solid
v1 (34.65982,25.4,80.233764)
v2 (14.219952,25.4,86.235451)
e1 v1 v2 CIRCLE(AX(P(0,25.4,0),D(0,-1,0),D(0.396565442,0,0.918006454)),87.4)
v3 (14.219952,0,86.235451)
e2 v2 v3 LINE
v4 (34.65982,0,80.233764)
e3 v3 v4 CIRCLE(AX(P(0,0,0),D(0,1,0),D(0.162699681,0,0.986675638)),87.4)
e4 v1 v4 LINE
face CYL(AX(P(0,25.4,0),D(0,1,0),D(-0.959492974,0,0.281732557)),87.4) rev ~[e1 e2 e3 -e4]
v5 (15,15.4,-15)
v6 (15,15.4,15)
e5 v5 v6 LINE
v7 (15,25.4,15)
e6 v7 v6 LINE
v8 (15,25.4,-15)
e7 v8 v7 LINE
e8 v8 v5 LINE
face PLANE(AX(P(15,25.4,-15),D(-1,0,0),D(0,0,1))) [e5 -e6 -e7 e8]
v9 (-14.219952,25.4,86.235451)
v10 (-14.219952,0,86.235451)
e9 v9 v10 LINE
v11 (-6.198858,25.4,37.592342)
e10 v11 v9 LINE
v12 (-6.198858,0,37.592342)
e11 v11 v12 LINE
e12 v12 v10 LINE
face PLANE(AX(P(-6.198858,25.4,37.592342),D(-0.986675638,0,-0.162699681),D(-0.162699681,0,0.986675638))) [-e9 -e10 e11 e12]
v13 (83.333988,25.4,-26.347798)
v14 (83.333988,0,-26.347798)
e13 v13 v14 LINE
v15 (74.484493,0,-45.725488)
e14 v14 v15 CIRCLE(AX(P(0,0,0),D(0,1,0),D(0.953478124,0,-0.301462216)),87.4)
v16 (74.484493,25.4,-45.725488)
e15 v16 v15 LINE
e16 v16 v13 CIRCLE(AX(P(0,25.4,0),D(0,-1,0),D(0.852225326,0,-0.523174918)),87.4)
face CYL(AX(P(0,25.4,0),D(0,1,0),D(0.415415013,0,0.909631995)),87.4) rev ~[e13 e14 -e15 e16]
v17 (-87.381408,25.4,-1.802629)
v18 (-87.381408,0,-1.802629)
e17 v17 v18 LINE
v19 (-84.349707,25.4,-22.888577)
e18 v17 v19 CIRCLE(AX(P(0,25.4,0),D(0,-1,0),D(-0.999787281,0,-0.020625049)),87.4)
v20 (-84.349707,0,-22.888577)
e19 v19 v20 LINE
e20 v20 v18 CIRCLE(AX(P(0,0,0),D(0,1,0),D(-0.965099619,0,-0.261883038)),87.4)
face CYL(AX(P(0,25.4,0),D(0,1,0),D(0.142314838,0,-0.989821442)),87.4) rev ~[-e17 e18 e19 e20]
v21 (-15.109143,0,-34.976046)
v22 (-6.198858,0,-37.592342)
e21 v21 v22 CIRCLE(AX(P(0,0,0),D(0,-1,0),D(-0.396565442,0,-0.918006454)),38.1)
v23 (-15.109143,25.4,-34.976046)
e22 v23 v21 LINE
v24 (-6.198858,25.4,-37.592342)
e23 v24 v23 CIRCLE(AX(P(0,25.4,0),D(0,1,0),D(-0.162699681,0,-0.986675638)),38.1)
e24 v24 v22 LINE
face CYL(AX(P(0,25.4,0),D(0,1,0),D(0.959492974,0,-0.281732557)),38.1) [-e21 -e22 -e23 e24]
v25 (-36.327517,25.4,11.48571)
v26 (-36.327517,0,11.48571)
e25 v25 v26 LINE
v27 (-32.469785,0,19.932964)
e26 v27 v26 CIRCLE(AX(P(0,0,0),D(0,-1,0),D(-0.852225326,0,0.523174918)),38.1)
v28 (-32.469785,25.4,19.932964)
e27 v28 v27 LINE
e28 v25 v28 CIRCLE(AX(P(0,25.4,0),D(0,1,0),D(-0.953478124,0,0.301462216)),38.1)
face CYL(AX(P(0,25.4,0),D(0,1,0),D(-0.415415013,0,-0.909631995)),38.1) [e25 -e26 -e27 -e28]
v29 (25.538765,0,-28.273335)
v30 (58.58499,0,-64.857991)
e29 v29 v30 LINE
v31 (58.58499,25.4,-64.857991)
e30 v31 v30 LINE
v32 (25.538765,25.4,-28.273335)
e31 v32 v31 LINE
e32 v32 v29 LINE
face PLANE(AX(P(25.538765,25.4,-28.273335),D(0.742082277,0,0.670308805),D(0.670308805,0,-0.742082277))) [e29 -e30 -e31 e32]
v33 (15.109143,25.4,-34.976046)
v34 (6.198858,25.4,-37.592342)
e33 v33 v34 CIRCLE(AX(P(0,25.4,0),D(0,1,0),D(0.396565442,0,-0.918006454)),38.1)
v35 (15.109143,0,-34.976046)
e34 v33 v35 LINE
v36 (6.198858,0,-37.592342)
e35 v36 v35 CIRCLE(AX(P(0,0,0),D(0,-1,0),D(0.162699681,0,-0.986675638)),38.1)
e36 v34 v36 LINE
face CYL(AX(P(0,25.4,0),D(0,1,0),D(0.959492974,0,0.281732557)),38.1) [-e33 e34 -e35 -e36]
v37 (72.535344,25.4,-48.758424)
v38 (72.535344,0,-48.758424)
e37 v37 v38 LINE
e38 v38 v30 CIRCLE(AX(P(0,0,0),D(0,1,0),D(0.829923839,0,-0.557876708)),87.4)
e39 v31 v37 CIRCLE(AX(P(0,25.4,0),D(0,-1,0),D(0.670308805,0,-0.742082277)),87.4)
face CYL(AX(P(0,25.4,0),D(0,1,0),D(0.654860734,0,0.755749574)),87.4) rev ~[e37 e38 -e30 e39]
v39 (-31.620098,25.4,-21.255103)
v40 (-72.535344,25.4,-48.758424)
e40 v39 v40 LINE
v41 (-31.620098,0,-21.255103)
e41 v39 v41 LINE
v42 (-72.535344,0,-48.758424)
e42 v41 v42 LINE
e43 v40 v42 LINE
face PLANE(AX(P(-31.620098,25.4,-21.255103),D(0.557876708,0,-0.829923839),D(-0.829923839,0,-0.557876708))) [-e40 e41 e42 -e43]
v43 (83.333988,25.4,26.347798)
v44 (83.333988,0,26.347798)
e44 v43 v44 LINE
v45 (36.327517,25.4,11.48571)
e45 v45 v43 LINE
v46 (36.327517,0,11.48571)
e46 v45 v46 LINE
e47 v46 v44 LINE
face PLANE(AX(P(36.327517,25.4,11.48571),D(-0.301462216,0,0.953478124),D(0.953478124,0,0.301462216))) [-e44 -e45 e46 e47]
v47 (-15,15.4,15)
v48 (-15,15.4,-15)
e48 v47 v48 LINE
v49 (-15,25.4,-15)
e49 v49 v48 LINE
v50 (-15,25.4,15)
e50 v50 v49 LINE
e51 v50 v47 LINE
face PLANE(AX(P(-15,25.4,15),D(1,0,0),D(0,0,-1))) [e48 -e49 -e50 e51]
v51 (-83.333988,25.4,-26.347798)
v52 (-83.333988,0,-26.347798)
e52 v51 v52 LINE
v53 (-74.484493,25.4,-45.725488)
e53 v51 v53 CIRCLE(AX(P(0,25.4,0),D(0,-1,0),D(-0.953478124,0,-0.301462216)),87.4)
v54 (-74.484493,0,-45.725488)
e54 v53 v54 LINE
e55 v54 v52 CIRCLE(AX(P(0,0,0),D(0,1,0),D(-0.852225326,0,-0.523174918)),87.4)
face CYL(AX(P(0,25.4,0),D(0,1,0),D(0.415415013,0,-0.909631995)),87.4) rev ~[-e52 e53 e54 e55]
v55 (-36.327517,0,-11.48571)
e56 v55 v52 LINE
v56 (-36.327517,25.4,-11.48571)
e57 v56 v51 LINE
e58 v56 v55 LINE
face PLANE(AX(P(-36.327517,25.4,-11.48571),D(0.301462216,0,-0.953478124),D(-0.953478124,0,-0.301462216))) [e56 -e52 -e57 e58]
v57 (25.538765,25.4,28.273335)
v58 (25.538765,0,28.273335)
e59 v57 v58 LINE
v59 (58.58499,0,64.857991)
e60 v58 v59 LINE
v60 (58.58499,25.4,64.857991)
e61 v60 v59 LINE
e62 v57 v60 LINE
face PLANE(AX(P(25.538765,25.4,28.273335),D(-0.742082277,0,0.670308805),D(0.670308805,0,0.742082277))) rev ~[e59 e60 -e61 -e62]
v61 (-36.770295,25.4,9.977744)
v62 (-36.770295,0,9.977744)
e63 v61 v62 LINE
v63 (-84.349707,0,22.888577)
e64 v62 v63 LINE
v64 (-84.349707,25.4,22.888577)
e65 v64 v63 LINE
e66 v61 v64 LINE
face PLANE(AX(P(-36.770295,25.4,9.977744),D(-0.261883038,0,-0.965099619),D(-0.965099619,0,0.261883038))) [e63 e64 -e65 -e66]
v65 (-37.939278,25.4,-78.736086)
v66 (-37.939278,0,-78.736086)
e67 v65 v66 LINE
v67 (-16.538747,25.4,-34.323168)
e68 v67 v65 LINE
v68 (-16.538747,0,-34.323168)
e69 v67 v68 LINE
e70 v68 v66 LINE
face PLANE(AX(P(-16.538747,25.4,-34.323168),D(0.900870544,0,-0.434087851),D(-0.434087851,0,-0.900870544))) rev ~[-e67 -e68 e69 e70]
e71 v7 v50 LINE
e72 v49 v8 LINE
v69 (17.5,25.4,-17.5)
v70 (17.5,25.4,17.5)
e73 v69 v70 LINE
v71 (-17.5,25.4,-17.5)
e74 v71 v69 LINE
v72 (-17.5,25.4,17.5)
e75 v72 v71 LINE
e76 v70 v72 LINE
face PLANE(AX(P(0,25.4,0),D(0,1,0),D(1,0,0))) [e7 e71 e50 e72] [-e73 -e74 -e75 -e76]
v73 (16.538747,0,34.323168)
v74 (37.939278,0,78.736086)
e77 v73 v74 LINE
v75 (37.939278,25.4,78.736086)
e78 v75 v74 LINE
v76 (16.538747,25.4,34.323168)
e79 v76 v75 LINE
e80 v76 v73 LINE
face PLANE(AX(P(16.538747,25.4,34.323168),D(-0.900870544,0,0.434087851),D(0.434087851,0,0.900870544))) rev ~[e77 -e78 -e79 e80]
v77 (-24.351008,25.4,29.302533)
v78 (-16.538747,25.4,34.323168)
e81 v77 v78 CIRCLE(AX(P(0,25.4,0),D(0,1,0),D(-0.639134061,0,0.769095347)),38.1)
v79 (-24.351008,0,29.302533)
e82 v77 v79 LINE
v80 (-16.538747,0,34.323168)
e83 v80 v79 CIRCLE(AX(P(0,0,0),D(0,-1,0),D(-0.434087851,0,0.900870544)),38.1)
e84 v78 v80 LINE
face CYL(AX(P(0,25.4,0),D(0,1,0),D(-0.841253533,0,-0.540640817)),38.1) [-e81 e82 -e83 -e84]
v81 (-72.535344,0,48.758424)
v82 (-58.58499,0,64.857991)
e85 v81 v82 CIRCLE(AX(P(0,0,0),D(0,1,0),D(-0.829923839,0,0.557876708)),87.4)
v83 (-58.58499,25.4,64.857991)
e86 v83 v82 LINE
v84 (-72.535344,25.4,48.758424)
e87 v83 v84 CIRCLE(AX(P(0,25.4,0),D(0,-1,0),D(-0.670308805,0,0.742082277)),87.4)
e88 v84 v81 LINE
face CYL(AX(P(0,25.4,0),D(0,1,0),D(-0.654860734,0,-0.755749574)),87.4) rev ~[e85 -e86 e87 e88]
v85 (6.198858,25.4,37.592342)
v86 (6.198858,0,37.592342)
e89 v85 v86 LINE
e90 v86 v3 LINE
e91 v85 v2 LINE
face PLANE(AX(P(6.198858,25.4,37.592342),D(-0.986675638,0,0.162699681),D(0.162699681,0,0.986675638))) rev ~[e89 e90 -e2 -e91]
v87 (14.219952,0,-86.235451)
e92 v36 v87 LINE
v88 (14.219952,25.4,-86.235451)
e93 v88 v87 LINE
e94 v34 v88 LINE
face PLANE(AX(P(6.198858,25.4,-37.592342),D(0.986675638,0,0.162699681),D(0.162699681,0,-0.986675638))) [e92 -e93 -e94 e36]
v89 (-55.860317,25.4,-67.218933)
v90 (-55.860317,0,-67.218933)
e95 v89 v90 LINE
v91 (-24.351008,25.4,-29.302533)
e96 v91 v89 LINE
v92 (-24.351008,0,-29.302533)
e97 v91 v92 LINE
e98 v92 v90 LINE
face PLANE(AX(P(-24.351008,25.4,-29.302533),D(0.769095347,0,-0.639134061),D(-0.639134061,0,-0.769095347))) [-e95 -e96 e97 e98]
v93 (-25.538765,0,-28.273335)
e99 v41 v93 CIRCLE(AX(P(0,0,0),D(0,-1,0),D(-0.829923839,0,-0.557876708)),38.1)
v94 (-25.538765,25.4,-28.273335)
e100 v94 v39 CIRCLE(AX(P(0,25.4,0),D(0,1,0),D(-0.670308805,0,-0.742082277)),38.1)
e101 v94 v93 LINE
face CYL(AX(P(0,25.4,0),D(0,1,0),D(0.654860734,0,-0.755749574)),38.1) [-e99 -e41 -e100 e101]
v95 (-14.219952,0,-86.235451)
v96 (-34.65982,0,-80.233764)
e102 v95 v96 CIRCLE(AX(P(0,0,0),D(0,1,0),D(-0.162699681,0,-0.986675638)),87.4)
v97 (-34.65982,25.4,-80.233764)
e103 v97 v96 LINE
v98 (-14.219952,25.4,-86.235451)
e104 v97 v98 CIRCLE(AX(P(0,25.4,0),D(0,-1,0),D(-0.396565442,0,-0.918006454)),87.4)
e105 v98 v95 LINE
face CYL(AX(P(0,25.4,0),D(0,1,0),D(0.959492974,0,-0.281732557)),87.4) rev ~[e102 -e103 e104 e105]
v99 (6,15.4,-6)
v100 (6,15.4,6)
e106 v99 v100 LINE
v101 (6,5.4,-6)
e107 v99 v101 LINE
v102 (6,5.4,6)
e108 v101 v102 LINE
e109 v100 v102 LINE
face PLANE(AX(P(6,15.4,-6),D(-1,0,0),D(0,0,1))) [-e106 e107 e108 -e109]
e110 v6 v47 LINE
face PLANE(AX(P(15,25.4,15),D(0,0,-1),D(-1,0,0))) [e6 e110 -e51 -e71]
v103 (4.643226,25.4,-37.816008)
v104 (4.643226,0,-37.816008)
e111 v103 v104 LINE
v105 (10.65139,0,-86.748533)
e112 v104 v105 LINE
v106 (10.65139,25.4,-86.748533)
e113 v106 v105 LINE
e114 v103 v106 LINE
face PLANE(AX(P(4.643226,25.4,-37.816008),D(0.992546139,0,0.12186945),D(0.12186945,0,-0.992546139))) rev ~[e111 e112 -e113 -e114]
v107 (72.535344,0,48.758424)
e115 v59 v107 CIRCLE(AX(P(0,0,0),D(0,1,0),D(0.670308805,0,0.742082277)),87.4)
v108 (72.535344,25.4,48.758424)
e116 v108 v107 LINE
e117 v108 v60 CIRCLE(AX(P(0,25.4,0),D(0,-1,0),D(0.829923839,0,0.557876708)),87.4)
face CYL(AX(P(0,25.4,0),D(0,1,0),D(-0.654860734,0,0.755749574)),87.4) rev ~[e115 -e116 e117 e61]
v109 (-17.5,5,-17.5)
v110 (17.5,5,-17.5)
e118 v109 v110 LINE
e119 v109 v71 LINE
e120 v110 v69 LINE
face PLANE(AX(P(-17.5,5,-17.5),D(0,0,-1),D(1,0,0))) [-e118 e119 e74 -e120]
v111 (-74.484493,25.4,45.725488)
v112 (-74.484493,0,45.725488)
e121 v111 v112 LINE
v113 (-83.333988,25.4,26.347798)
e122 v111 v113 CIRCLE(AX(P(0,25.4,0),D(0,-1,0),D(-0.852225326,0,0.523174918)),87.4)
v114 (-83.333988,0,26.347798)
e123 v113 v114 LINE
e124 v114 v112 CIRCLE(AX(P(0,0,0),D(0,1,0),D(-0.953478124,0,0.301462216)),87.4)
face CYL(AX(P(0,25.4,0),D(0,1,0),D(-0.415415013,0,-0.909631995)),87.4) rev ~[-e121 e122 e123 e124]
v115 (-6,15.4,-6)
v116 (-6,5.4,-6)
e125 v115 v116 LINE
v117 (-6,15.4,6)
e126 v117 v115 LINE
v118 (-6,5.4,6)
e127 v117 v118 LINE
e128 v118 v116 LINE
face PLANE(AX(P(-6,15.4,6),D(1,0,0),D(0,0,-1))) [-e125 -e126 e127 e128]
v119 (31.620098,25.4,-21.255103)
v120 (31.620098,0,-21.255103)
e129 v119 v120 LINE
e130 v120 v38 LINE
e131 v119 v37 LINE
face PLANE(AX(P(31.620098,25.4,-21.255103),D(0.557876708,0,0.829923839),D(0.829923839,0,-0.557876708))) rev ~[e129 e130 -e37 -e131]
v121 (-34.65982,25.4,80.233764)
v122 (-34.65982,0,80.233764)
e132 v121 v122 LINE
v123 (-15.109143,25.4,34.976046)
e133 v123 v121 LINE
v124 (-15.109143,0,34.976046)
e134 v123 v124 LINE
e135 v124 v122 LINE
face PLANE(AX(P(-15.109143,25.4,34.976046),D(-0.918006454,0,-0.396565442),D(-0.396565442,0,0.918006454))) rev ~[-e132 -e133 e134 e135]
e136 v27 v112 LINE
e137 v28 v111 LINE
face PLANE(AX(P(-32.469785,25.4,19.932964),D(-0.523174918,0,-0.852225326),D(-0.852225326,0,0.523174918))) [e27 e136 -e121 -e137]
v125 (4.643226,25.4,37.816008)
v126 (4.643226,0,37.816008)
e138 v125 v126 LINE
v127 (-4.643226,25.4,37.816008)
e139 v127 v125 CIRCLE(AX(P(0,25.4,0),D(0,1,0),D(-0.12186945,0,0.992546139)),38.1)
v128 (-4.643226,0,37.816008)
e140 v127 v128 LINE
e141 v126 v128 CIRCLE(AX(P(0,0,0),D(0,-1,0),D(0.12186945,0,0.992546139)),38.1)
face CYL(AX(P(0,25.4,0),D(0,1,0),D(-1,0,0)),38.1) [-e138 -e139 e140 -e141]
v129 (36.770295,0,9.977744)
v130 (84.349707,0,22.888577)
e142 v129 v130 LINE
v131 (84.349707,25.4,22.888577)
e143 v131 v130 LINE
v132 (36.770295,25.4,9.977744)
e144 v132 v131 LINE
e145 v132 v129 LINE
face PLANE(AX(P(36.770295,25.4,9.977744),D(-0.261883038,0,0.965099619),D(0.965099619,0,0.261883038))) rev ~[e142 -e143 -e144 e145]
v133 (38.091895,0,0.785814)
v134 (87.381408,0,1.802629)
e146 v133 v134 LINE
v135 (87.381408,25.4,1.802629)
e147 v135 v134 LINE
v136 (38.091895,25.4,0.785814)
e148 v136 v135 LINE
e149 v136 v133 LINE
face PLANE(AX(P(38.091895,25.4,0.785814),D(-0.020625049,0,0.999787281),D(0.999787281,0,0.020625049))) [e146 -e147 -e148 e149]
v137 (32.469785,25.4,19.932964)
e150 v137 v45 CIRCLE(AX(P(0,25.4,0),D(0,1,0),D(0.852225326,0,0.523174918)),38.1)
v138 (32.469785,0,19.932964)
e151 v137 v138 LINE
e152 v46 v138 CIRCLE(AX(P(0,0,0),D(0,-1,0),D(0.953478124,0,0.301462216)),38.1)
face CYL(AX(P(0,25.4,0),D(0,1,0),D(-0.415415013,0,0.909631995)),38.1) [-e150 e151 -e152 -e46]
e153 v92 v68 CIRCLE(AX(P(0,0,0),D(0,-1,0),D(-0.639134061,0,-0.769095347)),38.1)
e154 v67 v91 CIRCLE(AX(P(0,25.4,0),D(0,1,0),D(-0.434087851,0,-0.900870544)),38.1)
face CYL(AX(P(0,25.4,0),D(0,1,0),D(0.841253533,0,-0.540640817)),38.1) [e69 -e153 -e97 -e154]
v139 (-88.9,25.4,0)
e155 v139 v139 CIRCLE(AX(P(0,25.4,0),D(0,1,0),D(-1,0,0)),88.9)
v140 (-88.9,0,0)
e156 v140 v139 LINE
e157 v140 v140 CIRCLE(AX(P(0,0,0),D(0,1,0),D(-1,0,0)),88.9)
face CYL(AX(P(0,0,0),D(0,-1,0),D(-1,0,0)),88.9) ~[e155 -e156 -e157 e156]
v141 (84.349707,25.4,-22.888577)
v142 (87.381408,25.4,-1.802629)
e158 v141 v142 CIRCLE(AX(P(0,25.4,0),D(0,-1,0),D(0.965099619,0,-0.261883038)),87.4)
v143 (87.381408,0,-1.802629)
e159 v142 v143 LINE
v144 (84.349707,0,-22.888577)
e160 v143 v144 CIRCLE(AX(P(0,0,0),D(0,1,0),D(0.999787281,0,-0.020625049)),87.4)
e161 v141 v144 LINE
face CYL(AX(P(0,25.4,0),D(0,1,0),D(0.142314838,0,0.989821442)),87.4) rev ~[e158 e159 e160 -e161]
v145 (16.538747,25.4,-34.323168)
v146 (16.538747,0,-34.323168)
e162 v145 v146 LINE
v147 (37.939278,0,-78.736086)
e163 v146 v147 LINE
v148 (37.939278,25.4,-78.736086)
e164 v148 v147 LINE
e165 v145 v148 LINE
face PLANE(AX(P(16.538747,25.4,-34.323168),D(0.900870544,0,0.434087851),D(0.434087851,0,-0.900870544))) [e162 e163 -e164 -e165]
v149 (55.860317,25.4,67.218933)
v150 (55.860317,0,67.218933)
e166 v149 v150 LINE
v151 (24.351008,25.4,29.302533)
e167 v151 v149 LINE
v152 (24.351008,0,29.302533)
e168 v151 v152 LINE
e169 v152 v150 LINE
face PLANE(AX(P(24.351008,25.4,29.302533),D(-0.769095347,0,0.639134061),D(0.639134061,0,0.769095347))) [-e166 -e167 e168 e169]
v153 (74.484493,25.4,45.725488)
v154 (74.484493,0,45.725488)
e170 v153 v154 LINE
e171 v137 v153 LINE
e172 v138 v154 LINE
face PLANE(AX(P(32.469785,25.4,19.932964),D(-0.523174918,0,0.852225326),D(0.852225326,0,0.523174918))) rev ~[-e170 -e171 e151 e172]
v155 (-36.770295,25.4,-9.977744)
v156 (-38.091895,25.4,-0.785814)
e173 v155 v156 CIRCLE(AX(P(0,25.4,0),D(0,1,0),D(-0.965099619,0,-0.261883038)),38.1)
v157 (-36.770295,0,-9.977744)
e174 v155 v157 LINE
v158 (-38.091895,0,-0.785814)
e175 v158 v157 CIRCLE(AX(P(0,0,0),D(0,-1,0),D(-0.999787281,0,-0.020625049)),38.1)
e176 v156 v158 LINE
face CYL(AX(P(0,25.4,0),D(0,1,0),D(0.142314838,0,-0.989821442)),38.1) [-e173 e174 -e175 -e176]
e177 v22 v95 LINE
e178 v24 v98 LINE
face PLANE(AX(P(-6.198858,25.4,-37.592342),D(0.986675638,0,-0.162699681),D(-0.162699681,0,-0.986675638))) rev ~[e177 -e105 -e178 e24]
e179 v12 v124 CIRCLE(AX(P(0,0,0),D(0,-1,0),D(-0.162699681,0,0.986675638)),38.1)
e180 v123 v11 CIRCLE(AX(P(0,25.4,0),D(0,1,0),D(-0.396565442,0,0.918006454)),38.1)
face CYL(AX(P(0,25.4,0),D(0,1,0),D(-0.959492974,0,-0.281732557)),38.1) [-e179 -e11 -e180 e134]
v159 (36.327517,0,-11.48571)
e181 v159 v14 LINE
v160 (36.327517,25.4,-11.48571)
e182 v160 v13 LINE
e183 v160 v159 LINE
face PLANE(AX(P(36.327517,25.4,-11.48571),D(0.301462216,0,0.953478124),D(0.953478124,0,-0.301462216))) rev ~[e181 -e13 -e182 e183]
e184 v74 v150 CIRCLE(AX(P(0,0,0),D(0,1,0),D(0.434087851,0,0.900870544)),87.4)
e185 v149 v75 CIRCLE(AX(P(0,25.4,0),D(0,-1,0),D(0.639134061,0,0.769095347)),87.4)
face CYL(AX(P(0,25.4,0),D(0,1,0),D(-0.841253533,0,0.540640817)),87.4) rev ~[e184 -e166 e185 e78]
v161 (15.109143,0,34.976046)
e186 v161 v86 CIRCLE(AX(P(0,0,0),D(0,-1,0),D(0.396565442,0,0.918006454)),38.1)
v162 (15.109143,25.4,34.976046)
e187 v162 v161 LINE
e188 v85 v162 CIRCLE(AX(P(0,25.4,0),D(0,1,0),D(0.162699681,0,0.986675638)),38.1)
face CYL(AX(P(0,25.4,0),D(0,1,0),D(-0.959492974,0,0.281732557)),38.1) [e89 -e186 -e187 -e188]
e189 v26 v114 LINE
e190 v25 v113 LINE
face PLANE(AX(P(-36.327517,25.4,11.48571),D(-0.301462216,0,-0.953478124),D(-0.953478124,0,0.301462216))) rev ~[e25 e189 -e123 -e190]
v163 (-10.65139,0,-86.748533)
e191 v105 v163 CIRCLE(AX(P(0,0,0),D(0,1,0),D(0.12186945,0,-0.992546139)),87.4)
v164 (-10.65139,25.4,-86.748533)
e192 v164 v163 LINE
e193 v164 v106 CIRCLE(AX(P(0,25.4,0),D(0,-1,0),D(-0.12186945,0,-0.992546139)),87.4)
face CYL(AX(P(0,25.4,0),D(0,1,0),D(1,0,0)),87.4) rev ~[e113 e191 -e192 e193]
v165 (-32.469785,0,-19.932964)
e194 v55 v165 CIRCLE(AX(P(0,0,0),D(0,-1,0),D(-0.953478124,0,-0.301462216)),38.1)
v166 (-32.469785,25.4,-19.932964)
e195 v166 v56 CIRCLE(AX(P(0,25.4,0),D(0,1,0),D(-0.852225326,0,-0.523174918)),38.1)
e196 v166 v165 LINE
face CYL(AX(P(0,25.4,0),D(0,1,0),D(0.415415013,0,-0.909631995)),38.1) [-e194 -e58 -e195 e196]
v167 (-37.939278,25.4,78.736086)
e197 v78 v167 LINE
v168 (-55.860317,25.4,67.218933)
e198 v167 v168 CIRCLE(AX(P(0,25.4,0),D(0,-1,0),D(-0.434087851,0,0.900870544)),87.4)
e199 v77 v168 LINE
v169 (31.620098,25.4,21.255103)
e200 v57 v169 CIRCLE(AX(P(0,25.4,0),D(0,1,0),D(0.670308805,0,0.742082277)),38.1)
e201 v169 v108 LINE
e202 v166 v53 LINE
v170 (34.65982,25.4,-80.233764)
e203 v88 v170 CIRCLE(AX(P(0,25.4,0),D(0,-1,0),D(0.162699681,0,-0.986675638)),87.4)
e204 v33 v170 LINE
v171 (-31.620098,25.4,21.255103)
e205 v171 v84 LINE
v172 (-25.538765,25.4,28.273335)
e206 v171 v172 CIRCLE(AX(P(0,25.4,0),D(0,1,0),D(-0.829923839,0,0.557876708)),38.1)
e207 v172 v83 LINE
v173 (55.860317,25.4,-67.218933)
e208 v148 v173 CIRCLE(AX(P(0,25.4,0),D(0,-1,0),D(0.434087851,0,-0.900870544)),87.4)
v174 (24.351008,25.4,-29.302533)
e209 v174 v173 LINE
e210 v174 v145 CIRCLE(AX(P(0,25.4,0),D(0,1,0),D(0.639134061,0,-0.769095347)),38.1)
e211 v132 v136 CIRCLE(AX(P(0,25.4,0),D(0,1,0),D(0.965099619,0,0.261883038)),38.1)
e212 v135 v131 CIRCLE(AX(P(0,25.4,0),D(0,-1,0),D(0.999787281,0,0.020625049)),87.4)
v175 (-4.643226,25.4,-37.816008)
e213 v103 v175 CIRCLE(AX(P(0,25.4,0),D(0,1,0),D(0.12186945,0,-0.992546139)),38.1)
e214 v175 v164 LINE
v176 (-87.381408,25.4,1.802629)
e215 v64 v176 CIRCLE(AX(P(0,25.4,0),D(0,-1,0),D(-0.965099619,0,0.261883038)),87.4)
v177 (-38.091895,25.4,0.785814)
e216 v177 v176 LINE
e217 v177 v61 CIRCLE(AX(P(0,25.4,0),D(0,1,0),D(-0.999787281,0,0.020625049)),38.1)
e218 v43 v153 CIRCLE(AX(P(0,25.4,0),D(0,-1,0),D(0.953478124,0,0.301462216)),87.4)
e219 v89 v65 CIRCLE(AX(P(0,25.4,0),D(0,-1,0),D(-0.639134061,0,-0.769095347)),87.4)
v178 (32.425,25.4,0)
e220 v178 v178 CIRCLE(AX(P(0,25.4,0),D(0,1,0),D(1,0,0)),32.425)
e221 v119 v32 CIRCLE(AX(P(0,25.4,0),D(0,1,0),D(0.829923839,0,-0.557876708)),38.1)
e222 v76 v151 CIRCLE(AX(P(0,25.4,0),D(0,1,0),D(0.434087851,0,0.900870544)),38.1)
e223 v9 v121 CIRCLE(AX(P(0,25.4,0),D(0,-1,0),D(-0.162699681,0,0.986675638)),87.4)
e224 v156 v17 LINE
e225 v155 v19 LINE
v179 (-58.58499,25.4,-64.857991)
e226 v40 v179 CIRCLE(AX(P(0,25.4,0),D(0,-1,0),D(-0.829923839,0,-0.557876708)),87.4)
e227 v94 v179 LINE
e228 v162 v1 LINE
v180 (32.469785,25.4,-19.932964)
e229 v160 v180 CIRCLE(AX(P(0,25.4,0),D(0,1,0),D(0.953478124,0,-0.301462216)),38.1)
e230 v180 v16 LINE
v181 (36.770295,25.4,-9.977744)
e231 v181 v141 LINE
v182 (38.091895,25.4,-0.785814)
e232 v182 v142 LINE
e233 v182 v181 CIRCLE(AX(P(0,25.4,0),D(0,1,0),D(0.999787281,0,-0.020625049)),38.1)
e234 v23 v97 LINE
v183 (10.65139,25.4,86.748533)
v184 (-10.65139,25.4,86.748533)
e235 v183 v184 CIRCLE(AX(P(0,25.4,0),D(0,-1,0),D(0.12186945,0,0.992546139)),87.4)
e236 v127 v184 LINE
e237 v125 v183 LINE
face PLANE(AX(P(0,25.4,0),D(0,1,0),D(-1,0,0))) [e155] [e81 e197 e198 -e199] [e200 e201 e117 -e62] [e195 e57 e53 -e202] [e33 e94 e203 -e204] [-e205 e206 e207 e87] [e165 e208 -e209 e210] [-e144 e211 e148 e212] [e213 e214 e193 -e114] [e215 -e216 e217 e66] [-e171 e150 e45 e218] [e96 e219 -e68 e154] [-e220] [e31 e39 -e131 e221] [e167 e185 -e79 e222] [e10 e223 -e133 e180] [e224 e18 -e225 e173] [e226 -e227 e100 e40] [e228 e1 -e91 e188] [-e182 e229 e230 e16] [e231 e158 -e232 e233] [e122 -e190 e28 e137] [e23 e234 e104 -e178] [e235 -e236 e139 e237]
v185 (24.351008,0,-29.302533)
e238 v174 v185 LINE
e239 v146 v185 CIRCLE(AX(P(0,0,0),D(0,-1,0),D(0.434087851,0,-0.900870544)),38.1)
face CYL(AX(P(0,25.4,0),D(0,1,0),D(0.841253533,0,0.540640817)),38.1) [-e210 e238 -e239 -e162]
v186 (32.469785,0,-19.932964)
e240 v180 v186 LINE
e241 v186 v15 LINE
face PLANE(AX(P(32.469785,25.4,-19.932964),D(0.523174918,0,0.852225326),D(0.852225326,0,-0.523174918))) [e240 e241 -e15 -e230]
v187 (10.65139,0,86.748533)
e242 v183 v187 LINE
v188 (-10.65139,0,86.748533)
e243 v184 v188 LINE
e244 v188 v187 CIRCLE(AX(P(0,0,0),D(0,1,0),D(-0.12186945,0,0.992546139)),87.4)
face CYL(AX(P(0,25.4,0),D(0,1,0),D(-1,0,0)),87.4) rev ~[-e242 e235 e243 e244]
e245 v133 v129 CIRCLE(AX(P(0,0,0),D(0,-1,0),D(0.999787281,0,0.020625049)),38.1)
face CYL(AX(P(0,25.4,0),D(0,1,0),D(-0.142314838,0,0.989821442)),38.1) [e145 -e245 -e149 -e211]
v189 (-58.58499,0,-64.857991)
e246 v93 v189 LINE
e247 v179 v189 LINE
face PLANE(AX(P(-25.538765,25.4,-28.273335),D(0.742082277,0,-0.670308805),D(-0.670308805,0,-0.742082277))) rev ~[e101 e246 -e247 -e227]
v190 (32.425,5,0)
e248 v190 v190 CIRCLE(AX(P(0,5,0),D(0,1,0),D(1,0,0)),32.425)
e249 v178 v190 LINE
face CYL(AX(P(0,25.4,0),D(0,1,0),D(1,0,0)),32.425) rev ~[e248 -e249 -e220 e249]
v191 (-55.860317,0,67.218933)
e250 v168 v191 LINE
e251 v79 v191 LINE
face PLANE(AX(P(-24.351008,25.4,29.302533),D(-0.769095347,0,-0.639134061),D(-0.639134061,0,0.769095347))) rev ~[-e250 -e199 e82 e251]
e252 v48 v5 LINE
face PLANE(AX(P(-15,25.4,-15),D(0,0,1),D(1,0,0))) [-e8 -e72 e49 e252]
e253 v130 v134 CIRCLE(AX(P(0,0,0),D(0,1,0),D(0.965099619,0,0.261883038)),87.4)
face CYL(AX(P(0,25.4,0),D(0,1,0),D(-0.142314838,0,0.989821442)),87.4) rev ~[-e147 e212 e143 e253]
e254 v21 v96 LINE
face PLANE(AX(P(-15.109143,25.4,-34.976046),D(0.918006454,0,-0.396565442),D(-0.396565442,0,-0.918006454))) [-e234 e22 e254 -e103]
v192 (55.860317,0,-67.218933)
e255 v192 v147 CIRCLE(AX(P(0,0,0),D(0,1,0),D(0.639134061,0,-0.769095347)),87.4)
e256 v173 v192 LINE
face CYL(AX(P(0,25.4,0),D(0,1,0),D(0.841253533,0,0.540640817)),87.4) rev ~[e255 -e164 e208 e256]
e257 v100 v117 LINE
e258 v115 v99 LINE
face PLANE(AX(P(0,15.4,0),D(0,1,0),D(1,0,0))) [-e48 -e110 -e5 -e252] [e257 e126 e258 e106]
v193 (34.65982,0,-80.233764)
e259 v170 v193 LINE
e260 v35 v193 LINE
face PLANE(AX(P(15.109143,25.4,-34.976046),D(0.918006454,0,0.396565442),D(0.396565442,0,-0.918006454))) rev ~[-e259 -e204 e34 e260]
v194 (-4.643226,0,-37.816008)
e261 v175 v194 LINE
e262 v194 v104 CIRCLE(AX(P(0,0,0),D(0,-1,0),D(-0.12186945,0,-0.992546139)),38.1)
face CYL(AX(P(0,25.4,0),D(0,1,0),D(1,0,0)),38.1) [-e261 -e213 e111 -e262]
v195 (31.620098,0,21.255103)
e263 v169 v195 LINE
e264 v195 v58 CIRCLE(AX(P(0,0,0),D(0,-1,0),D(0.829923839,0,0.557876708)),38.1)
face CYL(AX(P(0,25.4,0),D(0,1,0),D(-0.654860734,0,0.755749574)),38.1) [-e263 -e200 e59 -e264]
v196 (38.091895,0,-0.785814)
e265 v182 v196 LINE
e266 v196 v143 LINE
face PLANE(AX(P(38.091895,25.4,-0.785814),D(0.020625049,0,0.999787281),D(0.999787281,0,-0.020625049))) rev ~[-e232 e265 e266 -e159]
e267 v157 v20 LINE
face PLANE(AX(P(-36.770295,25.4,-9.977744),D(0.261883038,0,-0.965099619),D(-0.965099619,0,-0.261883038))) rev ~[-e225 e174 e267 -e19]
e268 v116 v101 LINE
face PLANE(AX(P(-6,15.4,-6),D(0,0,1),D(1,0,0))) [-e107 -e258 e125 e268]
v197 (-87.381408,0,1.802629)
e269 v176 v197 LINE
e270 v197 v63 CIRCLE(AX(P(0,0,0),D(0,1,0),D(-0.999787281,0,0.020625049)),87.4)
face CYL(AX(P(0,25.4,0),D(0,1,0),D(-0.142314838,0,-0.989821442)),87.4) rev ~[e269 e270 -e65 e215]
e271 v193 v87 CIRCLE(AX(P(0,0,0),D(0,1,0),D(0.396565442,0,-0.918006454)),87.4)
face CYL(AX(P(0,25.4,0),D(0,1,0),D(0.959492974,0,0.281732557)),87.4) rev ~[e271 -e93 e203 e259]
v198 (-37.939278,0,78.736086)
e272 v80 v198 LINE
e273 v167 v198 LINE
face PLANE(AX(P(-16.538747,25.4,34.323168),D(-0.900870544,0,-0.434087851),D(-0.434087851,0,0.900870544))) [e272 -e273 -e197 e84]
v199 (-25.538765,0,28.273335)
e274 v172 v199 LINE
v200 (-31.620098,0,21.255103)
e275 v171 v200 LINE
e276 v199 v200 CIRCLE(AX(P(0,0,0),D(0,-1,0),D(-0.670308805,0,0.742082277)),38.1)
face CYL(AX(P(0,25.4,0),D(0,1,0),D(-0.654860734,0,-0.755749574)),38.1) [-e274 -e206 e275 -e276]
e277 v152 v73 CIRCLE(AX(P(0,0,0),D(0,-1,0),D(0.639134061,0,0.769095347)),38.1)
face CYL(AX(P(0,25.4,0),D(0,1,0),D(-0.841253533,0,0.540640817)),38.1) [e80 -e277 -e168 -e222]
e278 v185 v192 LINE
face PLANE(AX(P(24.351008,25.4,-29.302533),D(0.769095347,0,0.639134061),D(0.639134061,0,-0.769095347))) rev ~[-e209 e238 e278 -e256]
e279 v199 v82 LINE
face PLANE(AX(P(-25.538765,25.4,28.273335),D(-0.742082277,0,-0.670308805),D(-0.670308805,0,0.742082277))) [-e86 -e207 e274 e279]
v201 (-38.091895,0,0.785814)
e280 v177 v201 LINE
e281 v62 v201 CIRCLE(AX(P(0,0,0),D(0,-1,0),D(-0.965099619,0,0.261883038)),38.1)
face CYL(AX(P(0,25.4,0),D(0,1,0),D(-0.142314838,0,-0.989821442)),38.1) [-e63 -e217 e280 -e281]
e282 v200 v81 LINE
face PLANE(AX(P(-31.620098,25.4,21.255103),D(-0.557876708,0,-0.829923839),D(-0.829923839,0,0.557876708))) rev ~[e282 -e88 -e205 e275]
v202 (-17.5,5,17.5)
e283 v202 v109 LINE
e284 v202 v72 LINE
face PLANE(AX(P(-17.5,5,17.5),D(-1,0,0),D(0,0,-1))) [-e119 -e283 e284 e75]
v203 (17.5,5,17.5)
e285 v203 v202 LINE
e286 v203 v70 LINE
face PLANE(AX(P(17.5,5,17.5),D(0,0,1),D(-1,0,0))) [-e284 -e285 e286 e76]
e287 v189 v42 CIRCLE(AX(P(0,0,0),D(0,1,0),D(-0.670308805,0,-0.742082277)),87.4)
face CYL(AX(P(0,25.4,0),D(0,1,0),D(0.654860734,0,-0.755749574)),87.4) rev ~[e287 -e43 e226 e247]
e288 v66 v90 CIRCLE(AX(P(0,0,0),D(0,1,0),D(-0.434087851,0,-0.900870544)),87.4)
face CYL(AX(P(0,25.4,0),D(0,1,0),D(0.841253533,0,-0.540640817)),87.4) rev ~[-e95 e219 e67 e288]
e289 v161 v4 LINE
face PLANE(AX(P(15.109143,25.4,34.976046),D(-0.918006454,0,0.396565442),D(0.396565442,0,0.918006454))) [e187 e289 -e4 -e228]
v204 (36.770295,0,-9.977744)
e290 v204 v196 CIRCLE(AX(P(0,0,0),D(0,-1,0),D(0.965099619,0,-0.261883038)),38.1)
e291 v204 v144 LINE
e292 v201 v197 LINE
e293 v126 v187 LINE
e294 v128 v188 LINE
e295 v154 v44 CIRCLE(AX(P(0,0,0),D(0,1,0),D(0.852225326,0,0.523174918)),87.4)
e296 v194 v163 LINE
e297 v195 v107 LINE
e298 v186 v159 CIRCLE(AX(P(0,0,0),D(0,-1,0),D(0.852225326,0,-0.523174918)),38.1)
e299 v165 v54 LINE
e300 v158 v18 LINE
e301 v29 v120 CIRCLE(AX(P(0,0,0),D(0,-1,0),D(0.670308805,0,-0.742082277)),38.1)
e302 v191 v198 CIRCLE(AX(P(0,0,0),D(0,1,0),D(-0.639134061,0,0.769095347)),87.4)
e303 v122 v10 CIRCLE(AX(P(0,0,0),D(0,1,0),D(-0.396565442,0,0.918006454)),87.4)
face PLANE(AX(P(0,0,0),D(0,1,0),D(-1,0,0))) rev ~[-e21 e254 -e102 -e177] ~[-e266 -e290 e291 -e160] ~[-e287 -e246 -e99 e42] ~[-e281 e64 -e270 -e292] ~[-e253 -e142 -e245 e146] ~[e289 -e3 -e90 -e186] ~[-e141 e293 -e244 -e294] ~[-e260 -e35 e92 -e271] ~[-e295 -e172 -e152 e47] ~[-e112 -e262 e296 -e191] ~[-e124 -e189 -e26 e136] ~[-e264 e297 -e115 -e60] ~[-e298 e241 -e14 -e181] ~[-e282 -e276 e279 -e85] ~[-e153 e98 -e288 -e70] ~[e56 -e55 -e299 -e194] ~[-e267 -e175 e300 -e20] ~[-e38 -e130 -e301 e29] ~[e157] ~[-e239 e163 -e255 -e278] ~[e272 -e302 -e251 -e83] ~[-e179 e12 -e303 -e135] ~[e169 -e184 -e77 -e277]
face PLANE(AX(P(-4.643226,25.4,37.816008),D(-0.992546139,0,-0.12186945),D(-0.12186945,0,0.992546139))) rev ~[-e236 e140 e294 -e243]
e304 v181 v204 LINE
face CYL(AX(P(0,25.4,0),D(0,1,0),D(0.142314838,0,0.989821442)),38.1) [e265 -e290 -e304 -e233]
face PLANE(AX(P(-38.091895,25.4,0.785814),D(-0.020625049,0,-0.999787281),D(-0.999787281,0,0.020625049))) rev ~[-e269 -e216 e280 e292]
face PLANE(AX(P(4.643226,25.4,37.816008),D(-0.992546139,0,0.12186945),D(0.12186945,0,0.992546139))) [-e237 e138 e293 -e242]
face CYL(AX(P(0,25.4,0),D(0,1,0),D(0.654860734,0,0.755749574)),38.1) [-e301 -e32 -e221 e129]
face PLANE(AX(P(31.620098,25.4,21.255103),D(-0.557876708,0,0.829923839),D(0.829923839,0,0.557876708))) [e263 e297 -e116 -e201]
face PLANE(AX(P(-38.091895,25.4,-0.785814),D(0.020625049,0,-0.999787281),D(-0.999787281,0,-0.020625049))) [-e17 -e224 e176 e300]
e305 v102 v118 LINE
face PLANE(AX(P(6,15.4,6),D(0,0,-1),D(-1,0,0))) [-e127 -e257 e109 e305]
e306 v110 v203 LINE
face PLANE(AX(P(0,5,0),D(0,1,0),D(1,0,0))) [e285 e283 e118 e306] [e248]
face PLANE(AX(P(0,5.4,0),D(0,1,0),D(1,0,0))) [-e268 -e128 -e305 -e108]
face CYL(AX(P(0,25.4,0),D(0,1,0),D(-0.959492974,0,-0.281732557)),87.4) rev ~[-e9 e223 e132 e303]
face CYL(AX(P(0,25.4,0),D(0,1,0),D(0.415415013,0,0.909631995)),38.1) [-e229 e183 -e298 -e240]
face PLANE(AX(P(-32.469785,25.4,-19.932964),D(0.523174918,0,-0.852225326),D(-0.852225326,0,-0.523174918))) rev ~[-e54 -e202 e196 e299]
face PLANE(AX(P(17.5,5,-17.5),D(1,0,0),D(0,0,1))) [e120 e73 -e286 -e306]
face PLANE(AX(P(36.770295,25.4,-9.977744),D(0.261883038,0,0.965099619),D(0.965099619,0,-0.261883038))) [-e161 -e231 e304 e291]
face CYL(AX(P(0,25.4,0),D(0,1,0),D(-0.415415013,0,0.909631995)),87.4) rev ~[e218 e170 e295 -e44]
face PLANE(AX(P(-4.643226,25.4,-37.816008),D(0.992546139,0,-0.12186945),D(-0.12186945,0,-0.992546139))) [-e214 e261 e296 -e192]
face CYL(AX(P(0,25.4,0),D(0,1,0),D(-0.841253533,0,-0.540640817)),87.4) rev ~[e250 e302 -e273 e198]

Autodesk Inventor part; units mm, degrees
sketch "Sketch1" plane through (0, 0, 0) normal (0, 1, 0) x (-1, 0, 0)
  circle A0 centre (0, 0) radius 88.9
  dimension "d0" = 177.8
extrude "Extrusion1" add sketch "Sketch1" along normal blind 25.4
sketch "Sketch2" plane through (0, 25.4, 0) normal (0, 1, 0) x (1, 0, 0)
  circle A0 centre (0, 0) radius 87.4
  line L0 (0, 0) -> (-10.8342, 88.2374)
  circle A1 centre (0, 0) radius 88.9 projected
  line L1 (0, 0) -> (10.8342, 88.2374)
  circle A2 centre (0, 0) radius 34.925
  line L2 (0, 0) -> (0, 88.9)
  circle A3 centre (0, 0) radius 38.1
  point P0 (-4.2563, 34.6647)
  point P1 (4.2563, 34.6647)
  point P2 (10.6514, 86.7485)
  point P3 (-10.6514, 86.7485)
  point P4 (-4.6432, 37.816)
  point P5 (4.6432, 37.816)
  dimension "d3" = 174.8
  dimension "d4" = 69.85
  dimension "d10" = 14
  dimension "d11" = 7
  dimension "d45" = 76.2
extrude "Extrusion2" cut sketch "Sketch2" against normal blind 25.4 contours L1 A3 L2 A0 | A0 L2 A3 L0
pattern_circular "Circular Pattern1" count 22 over 360 about axis through (0, 0, 0) along (0, 1, 0) of "Extrusion2"
sketch "Sketch4" plane through (0, 25.4, 0) normal (0, 1, 0) x (1, 0, 0)
  circle A0 centre (0, 0) radius 32.425
  dimension "d16" = 64.85
extrude "Extrusion3" cut sketch "Sketch4" against normal blind 20.4
ref_plane "Work Plane1" through (0, 5, 0) normal (0, 1, 0) x (1, 0, 0)
sketch "Sketch5" plane through (0, 5, 0) normal (0, 1, 0) x (1, 0, 0)
  line L0 (-17.5, 17.5) -> (17.5, 17.5)
  line L1 (17.5, 17.5) -> (17.5, -17.5)
  line L2 (17.5, -17.5) -> (-17.5, -17.5)
  line L3 (-17.5, -17.5) -> (-17.5, 17.5)
  point P0 (0, 0)
  dimension "d20" = 35
  dimension "d21" = 35
  dimension "d22" = 17.5
  dimension "d23" = 17.5
extrude "Extrusion4" add sketch "Sketch5" along normal blind 20.4
ref_plane "Work Plane2" through (0, 25.4, 0) normal (0, 1, 0) x (1, 0, 0)
sketch "Sketch6" plane through (0, 25.4, 0) normal (0, 1, 0) x (1, 0, 0)
  line L0 (-15, 15) -> (15, 15)
  line L1 (15, 15) -> (15, -15)
  line L2 (15, -15) -> (-15, -15)
  line L3 (-15, -15) -> (-15, 15)
  point P0 (0, 0)
  dimension "d26" = 30
  dimension "d27" = 15
  dimension "d28" = 15
  dimension "d29" = 30
extrude "Extrusion5" cut sketch "Sketch6" against normal blind 10
ref_plane "Work Plane3" through (0, 15.4, 0) normal (0, 1, 0) x (1, 0, 0)
sketch "Sketch7" plane through (0, 15.4, 0) normal (0, 1, 0) x (1, 0, 0)
  line L0 (-6, 6) -> (6, 6)
  line L1 (6, 6) -> (6, -6)
  line L2 (6, -6) -> (-6, -6)
  line L3 (-6, -6) -> (-6, 6)
  line L4 (-15, 15) -> (15, 15) projected
  line L5 (15, 15) -> (15, -15) projected
  line L6 (-15, -15) -> (-15, 15) projected
  line L7 (15, -15) -> (-15, -15) projected
  point P0 (0, 0)
  dimension "d32" = 9
  dimension "d33" = 9
  dimension "d34" = 9
  dimension "d35" = 9
extrude "Extrusion6" cut sketch "Sketch7" against normal blind 10 contours L0 L1 L2 L3
equation "\"d11\" = 0.5 * d10"
equation "\"d21\" = d20"
equation "\"d22\" = 0.5 * d20"
equation "\"d23\" = 0.5 * d20"
equation "\"d27\" = 0.5 * d26"
equation "\"d28\" = 0.5 * d26"
equation "\"d29\" = d26"
equation "\"d33\" = d32"
equation "\"d34\" = d32"
equation "\"d35\" = d32"
properties part number "Capsule_Design_Final"
